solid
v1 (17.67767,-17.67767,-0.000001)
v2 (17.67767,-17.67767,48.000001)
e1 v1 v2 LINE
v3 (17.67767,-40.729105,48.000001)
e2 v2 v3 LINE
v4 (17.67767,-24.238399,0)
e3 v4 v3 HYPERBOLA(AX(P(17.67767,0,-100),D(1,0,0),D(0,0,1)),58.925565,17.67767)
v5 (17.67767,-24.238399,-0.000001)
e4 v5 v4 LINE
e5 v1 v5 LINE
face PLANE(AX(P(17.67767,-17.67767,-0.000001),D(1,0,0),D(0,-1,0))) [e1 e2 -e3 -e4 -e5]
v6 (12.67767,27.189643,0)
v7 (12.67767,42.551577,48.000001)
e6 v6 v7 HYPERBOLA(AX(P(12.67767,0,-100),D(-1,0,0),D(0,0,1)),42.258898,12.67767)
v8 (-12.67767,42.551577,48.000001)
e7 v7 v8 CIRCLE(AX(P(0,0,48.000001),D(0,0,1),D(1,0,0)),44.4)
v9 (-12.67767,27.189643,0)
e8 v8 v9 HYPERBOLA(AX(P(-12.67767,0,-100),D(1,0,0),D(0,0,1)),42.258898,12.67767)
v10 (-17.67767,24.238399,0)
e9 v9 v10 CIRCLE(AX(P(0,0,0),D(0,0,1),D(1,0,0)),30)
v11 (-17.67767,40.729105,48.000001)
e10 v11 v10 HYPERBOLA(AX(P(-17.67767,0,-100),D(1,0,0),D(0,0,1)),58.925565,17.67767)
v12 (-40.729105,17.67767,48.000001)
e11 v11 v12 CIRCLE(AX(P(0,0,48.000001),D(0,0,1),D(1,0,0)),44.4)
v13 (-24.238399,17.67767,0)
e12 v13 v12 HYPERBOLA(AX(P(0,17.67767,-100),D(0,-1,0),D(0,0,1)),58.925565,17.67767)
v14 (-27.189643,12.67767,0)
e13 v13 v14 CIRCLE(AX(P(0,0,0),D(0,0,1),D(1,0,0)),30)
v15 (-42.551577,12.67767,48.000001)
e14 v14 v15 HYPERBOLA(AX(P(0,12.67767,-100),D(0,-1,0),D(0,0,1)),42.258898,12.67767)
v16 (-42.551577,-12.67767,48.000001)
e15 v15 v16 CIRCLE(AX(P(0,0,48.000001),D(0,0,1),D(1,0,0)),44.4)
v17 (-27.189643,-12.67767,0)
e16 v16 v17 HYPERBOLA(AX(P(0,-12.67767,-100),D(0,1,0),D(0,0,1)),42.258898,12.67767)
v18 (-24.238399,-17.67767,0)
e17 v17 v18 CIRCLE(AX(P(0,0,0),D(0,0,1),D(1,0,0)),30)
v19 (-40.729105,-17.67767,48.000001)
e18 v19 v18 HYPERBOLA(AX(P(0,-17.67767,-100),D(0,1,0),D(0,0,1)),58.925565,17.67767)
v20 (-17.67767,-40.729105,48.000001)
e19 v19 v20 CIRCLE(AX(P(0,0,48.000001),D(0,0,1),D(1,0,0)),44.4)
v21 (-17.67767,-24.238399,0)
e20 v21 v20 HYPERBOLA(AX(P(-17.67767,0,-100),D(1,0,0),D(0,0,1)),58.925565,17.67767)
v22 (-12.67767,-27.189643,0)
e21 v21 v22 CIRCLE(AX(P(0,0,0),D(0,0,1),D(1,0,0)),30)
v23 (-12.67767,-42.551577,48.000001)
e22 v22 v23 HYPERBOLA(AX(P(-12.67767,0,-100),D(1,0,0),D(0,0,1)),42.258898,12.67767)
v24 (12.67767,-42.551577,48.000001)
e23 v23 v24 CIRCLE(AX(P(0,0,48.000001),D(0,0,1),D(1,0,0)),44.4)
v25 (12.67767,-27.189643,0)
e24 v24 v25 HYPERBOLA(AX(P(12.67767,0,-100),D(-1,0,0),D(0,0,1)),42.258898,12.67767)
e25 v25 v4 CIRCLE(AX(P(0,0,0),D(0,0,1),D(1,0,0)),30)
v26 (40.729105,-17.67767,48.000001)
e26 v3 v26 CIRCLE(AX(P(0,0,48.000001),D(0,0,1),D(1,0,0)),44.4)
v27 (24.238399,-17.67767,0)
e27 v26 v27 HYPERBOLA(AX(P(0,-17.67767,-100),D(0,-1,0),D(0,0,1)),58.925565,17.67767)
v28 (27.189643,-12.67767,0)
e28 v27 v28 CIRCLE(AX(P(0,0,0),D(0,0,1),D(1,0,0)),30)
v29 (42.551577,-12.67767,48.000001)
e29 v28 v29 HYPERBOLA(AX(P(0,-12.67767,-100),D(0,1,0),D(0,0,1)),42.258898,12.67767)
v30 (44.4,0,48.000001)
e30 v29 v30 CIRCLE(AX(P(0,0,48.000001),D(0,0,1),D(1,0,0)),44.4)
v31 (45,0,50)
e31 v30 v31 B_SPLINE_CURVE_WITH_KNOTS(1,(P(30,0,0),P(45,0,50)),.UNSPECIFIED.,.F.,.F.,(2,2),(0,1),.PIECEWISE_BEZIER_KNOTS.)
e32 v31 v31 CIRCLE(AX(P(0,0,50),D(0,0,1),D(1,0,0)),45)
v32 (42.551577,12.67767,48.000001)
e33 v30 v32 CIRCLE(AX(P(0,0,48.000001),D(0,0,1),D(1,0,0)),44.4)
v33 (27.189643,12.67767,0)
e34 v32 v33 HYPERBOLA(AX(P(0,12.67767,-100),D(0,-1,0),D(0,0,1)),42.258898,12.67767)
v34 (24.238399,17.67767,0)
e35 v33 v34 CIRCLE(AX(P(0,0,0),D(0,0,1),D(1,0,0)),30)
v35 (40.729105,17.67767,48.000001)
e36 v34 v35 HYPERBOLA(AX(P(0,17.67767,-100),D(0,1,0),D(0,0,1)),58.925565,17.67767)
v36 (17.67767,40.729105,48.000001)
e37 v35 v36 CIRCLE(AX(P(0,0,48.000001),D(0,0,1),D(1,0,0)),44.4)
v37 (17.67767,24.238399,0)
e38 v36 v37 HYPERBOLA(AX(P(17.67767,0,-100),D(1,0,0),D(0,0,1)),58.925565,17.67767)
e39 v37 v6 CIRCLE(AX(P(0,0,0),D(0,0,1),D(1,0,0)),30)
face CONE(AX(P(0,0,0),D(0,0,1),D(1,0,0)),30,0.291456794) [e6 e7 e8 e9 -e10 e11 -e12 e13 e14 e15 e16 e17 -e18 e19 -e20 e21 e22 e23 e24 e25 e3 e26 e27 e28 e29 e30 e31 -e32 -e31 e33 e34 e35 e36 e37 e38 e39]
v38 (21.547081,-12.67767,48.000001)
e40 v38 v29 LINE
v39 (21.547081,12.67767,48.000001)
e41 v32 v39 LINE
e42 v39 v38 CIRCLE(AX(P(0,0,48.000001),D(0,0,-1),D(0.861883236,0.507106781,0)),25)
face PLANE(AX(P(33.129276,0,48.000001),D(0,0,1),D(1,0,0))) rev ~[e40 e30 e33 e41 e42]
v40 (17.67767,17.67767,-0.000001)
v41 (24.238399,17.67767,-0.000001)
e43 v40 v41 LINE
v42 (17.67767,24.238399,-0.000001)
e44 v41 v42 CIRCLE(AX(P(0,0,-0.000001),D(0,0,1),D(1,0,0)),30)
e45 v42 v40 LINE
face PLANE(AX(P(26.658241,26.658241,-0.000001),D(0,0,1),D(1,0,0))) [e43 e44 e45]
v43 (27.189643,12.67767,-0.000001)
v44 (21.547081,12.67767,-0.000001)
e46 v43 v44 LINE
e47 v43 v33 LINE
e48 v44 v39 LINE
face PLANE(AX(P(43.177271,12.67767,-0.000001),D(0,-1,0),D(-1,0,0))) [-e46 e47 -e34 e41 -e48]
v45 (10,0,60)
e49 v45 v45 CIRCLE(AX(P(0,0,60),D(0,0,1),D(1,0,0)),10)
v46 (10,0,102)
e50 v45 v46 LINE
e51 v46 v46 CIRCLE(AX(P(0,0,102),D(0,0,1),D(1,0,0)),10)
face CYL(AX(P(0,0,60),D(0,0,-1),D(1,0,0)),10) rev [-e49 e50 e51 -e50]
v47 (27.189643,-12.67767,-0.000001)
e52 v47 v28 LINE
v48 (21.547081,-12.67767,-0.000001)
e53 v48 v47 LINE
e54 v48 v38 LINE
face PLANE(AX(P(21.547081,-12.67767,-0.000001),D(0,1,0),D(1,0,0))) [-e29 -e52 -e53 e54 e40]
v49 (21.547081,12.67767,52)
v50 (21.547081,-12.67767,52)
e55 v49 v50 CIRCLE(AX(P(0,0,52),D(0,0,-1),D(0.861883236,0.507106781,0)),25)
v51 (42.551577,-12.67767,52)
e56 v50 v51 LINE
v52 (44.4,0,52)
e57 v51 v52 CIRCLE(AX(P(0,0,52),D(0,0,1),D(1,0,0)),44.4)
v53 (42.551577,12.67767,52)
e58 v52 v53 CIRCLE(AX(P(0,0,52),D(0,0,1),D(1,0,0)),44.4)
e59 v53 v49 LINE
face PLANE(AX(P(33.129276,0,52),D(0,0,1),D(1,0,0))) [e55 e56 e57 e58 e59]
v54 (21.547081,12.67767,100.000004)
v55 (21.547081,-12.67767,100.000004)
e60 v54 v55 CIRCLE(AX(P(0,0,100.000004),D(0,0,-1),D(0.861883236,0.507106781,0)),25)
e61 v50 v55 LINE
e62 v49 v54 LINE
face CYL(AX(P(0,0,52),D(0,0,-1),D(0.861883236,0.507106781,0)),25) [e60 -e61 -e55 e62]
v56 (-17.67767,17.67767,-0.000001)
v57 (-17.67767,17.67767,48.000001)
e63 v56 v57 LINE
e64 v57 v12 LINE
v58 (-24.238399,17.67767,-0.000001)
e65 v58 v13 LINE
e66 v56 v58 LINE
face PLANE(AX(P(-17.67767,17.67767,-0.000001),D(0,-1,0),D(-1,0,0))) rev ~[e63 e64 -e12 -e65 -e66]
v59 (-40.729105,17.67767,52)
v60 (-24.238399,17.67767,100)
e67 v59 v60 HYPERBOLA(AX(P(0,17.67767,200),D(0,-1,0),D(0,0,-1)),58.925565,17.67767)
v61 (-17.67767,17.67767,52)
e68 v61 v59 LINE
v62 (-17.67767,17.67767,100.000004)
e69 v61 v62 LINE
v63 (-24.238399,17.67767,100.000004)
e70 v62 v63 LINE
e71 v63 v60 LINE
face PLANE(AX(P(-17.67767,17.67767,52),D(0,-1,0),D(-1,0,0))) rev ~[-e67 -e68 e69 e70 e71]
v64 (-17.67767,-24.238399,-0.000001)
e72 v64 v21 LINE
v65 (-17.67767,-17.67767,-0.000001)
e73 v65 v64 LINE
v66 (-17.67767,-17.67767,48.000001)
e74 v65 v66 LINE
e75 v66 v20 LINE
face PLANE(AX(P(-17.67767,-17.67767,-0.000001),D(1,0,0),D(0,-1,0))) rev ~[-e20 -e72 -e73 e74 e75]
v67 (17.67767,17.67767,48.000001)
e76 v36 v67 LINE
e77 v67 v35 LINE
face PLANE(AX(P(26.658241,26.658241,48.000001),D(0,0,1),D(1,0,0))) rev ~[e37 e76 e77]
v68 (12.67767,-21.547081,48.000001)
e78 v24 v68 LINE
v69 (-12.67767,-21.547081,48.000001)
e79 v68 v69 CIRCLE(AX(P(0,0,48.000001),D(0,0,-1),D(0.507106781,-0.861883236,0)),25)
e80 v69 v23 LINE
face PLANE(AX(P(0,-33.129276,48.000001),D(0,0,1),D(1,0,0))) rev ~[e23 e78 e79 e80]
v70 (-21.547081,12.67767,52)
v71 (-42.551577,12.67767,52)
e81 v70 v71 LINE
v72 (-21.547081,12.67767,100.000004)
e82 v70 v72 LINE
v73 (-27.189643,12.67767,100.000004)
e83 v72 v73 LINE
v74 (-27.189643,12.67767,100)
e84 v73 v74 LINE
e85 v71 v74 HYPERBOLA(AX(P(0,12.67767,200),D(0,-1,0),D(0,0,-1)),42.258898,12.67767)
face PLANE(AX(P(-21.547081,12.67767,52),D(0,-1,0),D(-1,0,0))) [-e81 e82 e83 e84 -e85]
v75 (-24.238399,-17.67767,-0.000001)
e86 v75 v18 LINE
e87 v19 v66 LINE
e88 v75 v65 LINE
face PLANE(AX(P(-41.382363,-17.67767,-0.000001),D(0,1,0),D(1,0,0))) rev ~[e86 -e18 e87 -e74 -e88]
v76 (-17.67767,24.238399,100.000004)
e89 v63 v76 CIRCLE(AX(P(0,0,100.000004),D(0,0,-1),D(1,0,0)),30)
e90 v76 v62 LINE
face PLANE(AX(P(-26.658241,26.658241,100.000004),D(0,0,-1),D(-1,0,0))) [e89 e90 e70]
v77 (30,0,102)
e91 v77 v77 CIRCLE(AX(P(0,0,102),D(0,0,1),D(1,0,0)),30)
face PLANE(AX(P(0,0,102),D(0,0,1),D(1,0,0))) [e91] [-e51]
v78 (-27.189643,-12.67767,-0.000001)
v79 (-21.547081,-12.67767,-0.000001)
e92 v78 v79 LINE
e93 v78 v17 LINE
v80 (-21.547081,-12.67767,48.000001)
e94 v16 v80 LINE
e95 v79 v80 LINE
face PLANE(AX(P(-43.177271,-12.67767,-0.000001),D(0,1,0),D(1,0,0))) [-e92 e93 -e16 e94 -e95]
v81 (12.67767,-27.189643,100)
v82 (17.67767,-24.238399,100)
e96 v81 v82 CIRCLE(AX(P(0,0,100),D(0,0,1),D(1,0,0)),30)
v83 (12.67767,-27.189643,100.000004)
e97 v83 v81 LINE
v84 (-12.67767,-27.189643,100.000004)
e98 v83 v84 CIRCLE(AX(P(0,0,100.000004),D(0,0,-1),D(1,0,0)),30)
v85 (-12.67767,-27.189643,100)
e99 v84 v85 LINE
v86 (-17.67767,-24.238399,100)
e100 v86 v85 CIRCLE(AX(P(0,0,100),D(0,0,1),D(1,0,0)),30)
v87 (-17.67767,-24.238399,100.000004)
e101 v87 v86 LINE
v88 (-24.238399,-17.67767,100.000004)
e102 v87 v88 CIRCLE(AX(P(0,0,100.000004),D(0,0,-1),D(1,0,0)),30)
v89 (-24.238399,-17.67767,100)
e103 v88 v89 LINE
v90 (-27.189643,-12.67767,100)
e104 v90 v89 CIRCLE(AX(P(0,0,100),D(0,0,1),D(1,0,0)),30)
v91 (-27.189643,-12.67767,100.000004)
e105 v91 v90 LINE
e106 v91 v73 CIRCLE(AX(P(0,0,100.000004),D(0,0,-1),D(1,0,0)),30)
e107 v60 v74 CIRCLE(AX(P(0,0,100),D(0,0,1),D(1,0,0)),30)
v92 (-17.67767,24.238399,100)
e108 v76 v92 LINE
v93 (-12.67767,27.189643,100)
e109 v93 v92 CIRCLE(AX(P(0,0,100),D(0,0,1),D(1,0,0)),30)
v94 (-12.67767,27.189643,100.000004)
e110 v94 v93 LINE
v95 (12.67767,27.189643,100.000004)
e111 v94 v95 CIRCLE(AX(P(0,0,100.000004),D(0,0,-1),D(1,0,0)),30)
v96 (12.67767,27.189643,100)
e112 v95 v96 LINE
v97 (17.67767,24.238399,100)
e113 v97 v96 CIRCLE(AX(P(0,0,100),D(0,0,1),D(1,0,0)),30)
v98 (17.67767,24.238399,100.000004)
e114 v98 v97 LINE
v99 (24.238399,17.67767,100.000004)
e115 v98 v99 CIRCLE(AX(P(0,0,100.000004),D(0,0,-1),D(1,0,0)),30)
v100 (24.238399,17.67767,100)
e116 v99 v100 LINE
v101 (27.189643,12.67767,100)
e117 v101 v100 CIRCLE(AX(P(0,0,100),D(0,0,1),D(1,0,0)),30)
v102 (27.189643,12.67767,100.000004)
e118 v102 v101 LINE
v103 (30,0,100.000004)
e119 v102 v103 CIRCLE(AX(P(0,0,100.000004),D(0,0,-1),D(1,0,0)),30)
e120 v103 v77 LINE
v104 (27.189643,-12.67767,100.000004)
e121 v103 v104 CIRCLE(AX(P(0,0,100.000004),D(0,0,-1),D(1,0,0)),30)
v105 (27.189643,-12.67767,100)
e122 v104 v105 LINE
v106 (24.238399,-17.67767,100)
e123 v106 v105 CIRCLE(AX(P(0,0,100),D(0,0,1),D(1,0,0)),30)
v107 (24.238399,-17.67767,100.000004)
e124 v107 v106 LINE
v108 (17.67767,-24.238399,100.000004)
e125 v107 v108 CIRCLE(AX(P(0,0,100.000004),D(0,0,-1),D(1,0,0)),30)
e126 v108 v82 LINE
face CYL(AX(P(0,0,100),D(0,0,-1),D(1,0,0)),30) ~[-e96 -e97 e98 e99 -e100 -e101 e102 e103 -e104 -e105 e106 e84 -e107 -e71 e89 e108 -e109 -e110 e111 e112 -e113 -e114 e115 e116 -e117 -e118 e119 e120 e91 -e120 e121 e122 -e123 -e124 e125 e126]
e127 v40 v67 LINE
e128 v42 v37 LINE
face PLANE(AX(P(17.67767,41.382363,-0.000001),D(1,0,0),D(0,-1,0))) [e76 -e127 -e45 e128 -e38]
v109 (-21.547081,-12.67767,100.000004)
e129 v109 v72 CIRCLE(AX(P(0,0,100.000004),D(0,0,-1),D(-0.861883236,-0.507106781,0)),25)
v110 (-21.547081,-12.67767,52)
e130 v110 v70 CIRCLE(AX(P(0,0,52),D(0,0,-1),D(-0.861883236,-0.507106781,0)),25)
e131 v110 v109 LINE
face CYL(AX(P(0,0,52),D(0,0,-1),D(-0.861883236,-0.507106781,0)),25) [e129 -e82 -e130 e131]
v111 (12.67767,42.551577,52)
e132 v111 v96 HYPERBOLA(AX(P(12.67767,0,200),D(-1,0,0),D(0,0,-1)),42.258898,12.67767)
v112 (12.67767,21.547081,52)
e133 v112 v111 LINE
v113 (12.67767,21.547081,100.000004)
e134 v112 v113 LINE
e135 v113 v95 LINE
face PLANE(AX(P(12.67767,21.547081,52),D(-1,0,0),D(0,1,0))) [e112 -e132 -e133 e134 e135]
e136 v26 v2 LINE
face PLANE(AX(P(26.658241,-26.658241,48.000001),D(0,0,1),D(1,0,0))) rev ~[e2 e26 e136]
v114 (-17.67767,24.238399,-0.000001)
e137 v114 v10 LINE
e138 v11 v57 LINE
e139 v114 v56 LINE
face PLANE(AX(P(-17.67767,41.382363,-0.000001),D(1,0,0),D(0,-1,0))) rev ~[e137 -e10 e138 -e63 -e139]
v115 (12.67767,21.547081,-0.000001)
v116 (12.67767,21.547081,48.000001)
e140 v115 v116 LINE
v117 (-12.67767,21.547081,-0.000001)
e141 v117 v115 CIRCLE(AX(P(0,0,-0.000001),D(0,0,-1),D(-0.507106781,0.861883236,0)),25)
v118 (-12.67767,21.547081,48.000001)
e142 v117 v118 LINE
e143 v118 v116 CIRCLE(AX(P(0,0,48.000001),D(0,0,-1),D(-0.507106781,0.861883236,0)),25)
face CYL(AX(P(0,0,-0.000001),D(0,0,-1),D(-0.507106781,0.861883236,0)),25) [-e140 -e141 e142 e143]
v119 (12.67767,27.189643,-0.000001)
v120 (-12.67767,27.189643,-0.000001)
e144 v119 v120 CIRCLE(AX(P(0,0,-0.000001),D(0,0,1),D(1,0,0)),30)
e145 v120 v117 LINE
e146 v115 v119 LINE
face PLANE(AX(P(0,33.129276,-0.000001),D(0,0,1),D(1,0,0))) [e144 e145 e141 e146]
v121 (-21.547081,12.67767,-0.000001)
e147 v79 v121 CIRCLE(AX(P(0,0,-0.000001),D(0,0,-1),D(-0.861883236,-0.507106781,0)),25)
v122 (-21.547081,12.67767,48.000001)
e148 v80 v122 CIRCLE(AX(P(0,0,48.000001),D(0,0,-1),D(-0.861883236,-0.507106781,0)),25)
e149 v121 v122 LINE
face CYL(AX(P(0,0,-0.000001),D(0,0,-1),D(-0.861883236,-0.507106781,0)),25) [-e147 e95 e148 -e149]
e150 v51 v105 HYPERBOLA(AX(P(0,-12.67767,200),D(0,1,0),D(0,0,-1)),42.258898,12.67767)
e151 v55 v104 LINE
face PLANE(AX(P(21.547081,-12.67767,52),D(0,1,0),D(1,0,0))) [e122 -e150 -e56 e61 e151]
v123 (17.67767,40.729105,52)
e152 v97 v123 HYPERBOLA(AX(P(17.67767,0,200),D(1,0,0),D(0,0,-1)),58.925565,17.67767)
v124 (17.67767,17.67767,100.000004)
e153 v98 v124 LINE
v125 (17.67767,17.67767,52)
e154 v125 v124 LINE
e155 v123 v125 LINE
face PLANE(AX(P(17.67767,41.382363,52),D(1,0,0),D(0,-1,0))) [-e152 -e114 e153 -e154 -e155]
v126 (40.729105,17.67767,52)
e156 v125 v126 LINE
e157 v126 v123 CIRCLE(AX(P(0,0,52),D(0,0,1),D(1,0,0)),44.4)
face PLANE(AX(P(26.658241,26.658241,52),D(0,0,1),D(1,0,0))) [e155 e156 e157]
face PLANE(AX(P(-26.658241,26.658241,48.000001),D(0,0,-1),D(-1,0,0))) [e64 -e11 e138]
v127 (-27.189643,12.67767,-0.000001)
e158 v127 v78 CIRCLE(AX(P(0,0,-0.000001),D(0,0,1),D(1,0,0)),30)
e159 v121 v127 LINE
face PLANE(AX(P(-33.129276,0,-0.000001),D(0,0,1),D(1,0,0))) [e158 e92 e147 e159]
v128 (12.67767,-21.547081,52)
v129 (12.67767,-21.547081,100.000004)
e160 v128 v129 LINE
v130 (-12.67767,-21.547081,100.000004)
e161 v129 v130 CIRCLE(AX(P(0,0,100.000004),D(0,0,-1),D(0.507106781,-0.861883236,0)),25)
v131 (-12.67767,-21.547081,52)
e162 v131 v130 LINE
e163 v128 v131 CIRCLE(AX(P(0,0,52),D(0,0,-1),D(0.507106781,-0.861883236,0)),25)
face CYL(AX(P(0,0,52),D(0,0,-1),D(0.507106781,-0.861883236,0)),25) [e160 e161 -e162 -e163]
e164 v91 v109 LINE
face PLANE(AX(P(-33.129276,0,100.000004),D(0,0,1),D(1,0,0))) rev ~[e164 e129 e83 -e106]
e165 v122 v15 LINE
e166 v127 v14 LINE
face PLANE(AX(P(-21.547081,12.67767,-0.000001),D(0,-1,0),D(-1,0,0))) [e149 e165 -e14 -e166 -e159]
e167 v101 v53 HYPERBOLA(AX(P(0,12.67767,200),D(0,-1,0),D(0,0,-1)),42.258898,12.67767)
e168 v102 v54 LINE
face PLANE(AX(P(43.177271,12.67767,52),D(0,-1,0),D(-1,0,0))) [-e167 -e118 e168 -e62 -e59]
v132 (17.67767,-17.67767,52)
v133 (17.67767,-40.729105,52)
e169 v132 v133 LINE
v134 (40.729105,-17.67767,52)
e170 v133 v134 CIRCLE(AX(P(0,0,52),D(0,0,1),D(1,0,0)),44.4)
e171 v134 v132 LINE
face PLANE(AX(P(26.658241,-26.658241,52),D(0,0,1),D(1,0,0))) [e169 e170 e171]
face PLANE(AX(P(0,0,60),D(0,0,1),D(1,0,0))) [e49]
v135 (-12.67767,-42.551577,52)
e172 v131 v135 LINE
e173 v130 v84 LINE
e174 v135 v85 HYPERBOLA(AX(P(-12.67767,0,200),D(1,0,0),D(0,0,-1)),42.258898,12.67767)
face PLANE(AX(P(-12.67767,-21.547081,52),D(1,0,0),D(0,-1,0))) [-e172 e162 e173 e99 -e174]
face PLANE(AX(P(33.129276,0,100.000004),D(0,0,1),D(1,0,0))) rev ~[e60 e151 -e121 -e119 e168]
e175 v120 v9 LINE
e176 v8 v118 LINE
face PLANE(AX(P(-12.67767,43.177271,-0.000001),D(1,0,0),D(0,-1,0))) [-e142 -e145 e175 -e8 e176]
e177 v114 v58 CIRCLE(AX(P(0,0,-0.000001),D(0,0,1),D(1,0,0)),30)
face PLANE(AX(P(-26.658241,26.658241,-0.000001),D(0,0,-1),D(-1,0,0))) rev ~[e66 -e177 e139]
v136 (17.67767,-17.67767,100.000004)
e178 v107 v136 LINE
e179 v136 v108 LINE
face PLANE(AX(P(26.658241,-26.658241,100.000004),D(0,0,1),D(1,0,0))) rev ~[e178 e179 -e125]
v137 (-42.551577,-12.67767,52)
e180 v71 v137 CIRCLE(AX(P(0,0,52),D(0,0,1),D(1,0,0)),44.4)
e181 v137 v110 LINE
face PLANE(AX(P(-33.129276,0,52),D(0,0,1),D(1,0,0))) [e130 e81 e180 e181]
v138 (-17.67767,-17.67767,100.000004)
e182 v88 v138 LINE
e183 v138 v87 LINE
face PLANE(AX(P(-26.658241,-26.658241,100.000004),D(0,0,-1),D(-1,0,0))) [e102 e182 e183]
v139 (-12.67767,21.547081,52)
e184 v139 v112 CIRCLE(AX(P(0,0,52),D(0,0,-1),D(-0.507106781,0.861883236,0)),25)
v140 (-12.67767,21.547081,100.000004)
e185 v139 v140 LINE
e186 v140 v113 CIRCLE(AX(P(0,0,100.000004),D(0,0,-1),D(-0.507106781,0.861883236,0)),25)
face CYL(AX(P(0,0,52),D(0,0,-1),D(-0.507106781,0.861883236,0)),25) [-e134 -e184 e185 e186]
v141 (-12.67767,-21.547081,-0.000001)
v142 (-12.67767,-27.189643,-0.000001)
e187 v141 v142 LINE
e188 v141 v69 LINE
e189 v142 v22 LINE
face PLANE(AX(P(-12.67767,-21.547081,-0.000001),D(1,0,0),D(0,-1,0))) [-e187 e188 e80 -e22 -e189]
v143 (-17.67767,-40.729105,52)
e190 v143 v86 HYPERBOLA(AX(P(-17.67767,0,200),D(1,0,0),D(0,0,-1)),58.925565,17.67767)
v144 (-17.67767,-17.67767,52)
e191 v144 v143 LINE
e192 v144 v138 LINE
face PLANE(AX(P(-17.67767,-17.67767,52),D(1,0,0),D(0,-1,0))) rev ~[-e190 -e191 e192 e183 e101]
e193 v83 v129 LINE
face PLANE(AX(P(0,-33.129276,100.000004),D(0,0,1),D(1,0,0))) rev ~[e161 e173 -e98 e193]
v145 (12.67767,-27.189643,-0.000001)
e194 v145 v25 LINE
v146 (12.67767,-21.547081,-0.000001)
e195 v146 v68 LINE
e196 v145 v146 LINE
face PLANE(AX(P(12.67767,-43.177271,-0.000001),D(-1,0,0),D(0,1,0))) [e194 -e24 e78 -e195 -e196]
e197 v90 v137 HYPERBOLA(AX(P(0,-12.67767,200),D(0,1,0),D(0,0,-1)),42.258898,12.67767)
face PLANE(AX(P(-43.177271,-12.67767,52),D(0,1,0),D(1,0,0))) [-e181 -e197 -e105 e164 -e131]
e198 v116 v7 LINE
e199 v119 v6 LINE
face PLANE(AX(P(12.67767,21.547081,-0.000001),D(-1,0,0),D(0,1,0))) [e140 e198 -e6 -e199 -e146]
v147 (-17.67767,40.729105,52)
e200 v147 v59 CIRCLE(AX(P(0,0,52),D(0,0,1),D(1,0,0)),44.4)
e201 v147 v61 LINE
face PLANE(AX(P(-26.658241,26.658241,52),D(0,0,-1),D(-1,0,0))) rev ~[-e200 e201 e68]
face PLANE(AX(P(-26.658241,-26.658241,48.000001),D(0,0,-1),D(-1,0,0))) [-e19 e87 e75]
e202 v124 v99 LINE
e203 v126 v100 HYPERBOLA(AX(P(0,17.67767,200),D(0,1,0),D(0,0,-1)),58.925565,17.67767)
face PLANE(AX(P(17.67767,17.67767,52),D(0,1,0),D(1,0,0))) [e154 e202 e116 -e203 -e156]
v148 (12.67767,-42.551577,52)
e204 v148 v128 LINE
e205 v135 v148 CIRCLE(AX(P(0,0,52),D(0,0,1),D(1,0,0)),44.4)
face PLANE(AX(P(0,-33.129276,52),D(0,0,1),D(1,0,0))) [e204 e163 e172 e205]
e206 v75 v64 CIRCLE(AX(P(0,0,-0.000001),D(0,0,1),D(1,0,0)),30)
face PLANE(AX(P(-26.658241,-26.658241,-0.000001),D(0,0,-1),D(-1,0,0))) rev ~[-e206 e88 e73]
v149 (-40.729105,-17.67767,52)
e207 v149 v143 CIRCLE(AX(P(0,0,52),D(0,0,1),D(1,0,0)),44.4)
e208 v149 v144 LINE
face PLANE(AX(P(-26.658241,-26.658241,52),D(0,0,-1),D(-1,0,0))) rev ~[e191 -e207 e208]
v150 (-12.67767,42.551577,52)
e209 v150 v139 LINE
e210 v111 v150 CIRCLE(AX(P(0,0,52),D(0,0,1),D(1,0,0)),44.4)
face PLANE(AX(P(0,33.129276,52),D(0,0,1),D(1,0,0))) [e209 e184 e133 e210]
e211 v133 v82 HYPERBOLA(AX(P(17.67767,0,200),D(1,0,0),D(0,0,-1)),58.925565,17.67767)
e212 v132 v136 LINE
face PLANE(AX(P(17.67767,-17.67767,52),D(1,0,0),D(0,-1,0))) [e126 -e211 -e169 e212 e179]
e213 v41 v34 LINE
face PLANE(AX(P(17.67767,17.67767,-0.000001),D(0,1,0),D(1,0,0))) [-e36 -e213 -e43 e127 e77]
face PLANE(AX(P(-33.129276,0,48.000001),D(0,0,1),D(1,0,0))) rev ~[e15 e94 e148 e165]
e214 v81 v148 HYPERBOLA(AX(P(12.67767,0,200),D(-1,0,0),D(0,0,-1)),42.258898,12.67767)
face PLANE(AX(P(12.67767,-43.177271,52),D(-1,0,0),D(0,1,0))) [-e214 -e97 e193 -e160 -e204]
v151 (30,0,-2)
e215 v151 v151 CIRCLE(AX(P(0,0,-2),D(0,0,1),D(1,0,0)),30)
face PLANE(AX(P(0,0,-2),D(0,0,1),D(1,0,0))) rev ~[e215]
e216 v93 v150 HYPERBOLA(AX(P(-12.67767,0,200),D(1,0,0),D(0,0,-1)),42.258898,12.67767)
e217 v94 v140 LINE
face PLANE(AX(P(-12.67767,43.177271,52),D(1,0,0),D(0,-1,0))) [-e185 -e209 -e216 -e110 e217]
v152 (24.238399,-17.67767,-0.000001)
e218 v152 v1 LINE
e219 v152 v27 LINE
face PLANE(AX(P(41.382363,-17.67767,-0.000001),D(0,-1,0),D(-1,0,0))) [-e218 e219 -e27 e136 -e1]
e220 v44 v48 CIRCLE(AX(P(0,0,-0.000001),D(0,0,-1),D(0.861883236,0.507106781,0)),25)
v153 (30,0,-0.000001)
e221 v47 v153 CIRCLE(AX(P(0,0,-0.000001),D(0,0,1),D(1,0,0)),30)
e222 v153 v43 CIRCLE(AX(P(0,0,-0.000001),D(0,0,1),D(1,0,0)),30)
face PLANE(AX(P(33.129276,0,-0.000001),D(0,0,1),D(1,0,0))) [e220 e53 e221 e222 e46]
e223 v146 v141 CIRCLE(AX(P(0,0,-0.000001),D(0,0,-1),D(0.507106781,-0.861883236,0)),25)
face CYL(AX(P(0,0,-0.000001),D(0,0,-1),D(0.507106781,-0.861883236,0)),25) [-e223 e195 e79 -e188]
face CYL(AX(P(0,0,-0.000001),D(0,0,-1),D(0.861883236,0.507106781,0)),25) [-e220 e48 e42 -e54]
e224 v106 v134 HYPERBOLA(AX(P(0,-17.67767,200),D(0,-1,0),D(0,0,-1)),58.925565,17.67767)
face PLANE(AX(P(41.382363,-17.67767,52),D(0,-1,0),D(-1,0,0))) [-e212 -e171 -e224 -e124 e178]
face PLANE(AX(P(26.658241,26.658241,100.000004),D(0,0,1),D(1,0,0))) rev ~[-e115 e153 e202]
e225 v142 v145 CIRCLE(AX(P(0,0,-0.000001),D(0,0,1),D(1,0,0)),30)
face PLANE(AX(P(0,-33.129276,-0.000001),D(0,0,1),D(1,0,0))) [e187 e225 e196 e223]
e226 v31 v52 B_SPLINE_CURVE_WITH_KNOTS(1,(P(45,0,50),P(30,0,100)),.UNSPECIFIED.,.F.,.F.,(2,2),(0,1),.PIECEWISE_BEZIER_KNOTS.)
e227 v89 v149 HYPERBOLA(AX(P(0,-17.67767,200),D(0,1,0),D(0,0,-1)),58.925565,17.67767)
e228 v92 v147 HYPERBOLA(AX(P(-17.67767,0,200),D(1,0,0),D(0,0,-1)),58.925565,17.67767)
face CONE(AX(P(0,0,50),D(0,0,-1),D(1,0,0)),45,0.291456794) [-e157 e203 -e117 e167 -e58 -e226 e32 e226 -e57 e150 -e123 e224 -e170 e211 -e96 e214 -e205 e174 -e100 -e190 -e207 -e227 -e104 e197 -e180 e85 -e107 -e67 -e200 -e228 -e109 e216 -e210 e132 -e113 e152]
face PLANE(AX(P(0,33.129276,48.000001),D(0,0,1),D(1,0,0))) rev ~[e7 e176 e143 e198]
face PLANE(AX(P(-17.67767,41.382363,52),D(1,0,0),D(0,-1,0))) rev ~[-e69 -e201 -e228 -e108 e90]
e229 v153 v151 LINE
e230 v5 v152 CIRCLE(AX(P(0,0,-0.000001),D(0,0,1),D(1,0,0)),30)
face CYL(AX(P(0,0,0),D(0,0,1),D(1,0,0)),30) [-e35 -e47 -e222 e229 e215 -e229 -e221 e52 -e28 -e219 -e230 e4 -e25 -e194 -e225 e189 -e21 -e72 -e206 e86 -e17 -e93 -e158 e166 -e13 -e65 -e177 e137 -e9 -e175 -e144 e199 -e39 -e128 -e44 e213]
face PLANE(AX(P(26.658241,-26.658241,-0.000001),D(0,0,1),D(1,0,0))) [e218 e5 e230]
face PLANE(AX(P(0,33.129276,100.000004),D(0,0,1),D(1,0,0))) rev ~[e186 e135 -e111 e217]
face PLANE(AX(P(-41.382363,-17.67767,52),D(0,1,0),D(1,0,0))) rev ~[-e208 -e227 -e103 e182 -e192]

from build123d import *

# Parameters (mm, degrees)
FRONT_CONNECTOR_SKETCH_R      = 30
FRONT_CONNECTOR_EXTRUDE_DEPTH = 2
BACK_CONNECTOR_SKETCH_R       = 30
BACK_CONNECTOR_EXTRUDE_DEPTH  = 2
MID_RING_SKETCH_R             = 45
BACK_START                    = 2
BACK_CROSS_CUT_DEPTH          = 48.000004
FRONT_START                   = -50.000001
FRONT_CROSS_CUT_DEPTH         = 48.000002
PIN_HOLE_CUT_DEPTH            = 2
PIN_HOLE_CUT_DEPTH_BACK       = 40
PIN_HOLE_SKETCH_R             = 10


with BuildPart() as part:
    # Front Connector Sketch → Front Connector Extrude (new body)
    with BuildSketch(Plane.XY):
        Circle(FRONT_CONNECTOR_SKETCH_R)
    extrude(amount=-FRONT_CONNECTOR_EXTRUDE_DEPTH)

    # Mid Ring Sketch → section 1 of front_loft
    with BuildSketch(Plane.XY.offset(50), mode=Mode.PRIVATE) as front_loft_s1:
        Circle(MID_RING_SKETCH_R)
    # loft from a face of the part (front_loft)
    loft([part.faces().sort_by_distance((0, 0, 0))[0], front_loft_s1.sketch])



with BuildPart() as body_2:
    # Back Connector Sketch → Back Connector Extrude (new body)
    with BuildSketch(Plane.XY.offset(100)):
        Circle(BACK_CONNECTOR_SKETCH_R)
    extrude(amount=BACK_CONNECTOR_EXTRUDE_DEPTH)


with BuildPart() as part_1:
    add(part.part)

    add(body_2.part)  # back_loft joins it to this body
    # loft up to a face of the part (back_loft)
    loft([Face(Wire([part_1.edges().sort_by_distance((-30.804619767, 32.803588234, 50))[0]])), part_1.faces().sort_by_distance((0, 0, 100))[0]])

    # Cross Cut Sketch → Back Cross Cut (cut)
    with BuildSketch(Plane.XY.offset(50).offset(BACK_START)):
        with BuildLine():
            Line((-12.67766953, 43.177270586), (-12.67766953, 21.5470809))
            ThreePointArc((-12.67766953, 21.5470809), (0, 25), (12.67766953, 21.5470809))
            Line((12.67766953, 21.5470809), (12.67766953, 43.177270586))
            ThreePointArc((12.67766953, 43.177270586), (0, 45), (-12.67766953, 43.177270586))
        make_face()
        with BuildLine():
            Line((-12.67766953, -21.5470809), (-12.67766953, -43.177270586))
            ThreePointArc((-12.67766953, -43.177270586), (0, -45), (12.67766953, -43.177270586))
            Line((12.67766953, -43.177270586), (12.67766953, -21.5470809))
            ThreePointArc((12.67766953, -21.5470809), (0, -25), (-12.67766953, -21.5470809))
        make_face()
        with BuildLine():
            Line((17.67766953, 41.382363393), (17.67766953, 17.67766953))
            Line((17.67766953, 17.67766953), (41.382363393, 17.67766953))
            ThreePointArc((41.382363393, 17.67766953), (31.819805153, 31.819805153), (17.67766953, 41.382363393))
        make_face()
        with BuildLine():
            Line((17.67766953, -17.67766953), (17.67766953, -41.382363393))
            ThreePointArc((17.67766953, -41.382363393), (31.819805153, -31.819805153), (41.382363393, -17.67766953))
            Line((41.382363393, -17.67766953), (17.67766953, -17.67766953))
        make_face()
        with BuildLine():
            Line((-17.67766953, 41.382363393), (-17.67766953, 17.67766953))
            Line((-17.67766953, 17.67766953), (-41.382363393, 17.67766953))
            ThreePointArc((-41.382363393, 17.67766953), (-31.819805153, 31.819805153), (-17.67766953, 41.382363393))
        make_face()
        with BuildLine():
            Line((-17.67766953, -17.67766953), (-17.67766953, -41.382363393))
            ThreePointArc((-17.67766953, -41.382363393), (-31.819805153, -31.819805153), (-41.382363393, -17.67766953))
            Line((-41.382363393, -17.67766953), (-17.67766953, -17.67766953))
        make_face()
        with BuildLine():
            Line((43.177270586, 12.67766953), (21.5470809, 12.67766953))
            ThreePointArc((21.5470809, 12.67766953), (25, 0), (21.5470809, -12.67766953))
            Line((21.5470809, -12.67766953), (43.177270586, -12.67766953))
            ThreePointArc((43.177270586, -12.67766953), (45, 0), (43.177270586, 12.67766953))
        make_face()
        with BuildLine():
            Line((-21.5470809, 12.67766953), (-43.177270586, 12.67766953))
            ThreePointArc((-43.177270586, 12.67766953), (-45, 0), (-43.177270586, -12.67766953))
            Line((-43.177270586, -12.67766953), (-21.5470809, -12.67766953))
            ThreePointArc((-21.5470809, -12.67766953), (-25, 0), (-21.5470809, 12.67766953))
        make_face()
    extrude(amount=BACK_CROSS_CUT_DEPTH, mode=Mode.SUBTRACT)

    # Cross Cut Sketch<2> → Front Cross Cut (cut)
    with BuildSketch(Plane.XY.offset(50).offset(FRONT_START)):
        with BuildLine():
            Line((-12.67766953, 43.177270586), (-12.67766953, 21.5470809))
            ThreePointArc((-12.67766953, 21.5470809), (0, 25), (12.67766953, 21.5470809))
            Line((12.67766953, 21.5470809), (12.67766953, 43.177270586))
            ThreePointArc((12.67766953, 43.177270586), (0, 45), (-12.67766953, 43.177270586))
        make_face()
        with BuildLine():
            Line((-12.67766953, -21.5470809), (-12.67766953, -43.177270586))
            ThreePointArc((-12.67766953, -43.177270586), (0, -45), (12.67766953, -43.177270586))
            Line((12.67766953, -43.177270586), (12.67766953, -21.5470809))
            ThreePointArc((12.67766953, -21.5470809), (0, -25), (-12.67766953, -21.5470809))
        make_face()
        with BuildLine():
            Line((17.67766953, 41.382363393), (17.67766953, 17.67766953))
            Line((17.67766953, 17.67766953), (41.382363393, 17.67766953))
            ThreePointArc((41.382363393, 17.67766953), (31.819805153, 31.819805153), (17.67766953, 41.382363393))
        make_face()
        with BuildLine():
            Line((17.67766953, -17.67766953), (17.67766953, -41.382363393))
            ThreePointArc((17.67766953, -41.382363393), (31.819805153, -31.819805153), (41.382363393, -17.67766953))
            Line((41.382363393, -17.67766953), (17.67766953, -17.67766953))
        make_face()
        with BuildLine():
            Line((-17.67766953, 41.382363393), (-17.67766953, 17.67766953))
            Line((-17.67766953, 17.67766953), (-41.382363393, 17.67766953))
            ThreePointArc((-41.382363393, 17.67766953), (-31.819805153, 31.819805153), (-17.67766953, 41.382363393))
        make_face()
        with BuildLine():
            Line((-17.67766953, -17.67766953), (-17.67766953, -41.382363393))
            ThreePointArc((-17.67766953, -41.382363393), (-31.819805153, -31.819805153), (-41.382363393, -17.67766953))
            Line((-41.382363393, -17.67766953), (-17.67766953, -17.67766953))
        make_face()
        with BuildLine():
            Line((43.177270586, 12.67766953), (21.5470809, 12.67766953))
            ThreePointArc((21.5470809, 12.67766953), (25, 0), (21.5470809, -12.67766953))
            Line((21.5470809, -12.67766953), (43.177270586, -12.67766953))
            ThreePointArc((43.177270586, -12.67766953), (45, 0), (43.177270586, 12.67766953))
        make_face()
        with BuildLine():
            Line((-21.5470809, 12.67766953), (-43.177270586, 12.67766953))
            ThreePointArc((-43.177270586, 12.67766953), (-45, 0), (-43.177270586, -12.67766953))
            Line((-43.177270586, -12.67766953), (-21.5470809, -12.67766953))
            ThreePointArc((-21.5470809, -12.67766953), (-25, 0), (-21.5470809, 12.67766953))
        make_face()
    extrude(amount=FRONT_CROSS_CUT_DEPTH, mode=Mode.SUBTRACT)

    # Pin Hole Sketch → Pin Hole Cut (cut, two sides: drawn at the far end of the back side and taken through both)
    with BuildSketch(Plane.XY.offset(100).offset(-PIN_HOLE_CUT_DEPTH_BACK)):
        Circle(PIN_HOLE_SKETCH_R)
    extrude(amount=PIN_HOLE_CUT_DEPTH + PIN_HOLE_CUT_DEPTH_BACK, mode=Mode.SUBTRACT)


solid = part_1.part
